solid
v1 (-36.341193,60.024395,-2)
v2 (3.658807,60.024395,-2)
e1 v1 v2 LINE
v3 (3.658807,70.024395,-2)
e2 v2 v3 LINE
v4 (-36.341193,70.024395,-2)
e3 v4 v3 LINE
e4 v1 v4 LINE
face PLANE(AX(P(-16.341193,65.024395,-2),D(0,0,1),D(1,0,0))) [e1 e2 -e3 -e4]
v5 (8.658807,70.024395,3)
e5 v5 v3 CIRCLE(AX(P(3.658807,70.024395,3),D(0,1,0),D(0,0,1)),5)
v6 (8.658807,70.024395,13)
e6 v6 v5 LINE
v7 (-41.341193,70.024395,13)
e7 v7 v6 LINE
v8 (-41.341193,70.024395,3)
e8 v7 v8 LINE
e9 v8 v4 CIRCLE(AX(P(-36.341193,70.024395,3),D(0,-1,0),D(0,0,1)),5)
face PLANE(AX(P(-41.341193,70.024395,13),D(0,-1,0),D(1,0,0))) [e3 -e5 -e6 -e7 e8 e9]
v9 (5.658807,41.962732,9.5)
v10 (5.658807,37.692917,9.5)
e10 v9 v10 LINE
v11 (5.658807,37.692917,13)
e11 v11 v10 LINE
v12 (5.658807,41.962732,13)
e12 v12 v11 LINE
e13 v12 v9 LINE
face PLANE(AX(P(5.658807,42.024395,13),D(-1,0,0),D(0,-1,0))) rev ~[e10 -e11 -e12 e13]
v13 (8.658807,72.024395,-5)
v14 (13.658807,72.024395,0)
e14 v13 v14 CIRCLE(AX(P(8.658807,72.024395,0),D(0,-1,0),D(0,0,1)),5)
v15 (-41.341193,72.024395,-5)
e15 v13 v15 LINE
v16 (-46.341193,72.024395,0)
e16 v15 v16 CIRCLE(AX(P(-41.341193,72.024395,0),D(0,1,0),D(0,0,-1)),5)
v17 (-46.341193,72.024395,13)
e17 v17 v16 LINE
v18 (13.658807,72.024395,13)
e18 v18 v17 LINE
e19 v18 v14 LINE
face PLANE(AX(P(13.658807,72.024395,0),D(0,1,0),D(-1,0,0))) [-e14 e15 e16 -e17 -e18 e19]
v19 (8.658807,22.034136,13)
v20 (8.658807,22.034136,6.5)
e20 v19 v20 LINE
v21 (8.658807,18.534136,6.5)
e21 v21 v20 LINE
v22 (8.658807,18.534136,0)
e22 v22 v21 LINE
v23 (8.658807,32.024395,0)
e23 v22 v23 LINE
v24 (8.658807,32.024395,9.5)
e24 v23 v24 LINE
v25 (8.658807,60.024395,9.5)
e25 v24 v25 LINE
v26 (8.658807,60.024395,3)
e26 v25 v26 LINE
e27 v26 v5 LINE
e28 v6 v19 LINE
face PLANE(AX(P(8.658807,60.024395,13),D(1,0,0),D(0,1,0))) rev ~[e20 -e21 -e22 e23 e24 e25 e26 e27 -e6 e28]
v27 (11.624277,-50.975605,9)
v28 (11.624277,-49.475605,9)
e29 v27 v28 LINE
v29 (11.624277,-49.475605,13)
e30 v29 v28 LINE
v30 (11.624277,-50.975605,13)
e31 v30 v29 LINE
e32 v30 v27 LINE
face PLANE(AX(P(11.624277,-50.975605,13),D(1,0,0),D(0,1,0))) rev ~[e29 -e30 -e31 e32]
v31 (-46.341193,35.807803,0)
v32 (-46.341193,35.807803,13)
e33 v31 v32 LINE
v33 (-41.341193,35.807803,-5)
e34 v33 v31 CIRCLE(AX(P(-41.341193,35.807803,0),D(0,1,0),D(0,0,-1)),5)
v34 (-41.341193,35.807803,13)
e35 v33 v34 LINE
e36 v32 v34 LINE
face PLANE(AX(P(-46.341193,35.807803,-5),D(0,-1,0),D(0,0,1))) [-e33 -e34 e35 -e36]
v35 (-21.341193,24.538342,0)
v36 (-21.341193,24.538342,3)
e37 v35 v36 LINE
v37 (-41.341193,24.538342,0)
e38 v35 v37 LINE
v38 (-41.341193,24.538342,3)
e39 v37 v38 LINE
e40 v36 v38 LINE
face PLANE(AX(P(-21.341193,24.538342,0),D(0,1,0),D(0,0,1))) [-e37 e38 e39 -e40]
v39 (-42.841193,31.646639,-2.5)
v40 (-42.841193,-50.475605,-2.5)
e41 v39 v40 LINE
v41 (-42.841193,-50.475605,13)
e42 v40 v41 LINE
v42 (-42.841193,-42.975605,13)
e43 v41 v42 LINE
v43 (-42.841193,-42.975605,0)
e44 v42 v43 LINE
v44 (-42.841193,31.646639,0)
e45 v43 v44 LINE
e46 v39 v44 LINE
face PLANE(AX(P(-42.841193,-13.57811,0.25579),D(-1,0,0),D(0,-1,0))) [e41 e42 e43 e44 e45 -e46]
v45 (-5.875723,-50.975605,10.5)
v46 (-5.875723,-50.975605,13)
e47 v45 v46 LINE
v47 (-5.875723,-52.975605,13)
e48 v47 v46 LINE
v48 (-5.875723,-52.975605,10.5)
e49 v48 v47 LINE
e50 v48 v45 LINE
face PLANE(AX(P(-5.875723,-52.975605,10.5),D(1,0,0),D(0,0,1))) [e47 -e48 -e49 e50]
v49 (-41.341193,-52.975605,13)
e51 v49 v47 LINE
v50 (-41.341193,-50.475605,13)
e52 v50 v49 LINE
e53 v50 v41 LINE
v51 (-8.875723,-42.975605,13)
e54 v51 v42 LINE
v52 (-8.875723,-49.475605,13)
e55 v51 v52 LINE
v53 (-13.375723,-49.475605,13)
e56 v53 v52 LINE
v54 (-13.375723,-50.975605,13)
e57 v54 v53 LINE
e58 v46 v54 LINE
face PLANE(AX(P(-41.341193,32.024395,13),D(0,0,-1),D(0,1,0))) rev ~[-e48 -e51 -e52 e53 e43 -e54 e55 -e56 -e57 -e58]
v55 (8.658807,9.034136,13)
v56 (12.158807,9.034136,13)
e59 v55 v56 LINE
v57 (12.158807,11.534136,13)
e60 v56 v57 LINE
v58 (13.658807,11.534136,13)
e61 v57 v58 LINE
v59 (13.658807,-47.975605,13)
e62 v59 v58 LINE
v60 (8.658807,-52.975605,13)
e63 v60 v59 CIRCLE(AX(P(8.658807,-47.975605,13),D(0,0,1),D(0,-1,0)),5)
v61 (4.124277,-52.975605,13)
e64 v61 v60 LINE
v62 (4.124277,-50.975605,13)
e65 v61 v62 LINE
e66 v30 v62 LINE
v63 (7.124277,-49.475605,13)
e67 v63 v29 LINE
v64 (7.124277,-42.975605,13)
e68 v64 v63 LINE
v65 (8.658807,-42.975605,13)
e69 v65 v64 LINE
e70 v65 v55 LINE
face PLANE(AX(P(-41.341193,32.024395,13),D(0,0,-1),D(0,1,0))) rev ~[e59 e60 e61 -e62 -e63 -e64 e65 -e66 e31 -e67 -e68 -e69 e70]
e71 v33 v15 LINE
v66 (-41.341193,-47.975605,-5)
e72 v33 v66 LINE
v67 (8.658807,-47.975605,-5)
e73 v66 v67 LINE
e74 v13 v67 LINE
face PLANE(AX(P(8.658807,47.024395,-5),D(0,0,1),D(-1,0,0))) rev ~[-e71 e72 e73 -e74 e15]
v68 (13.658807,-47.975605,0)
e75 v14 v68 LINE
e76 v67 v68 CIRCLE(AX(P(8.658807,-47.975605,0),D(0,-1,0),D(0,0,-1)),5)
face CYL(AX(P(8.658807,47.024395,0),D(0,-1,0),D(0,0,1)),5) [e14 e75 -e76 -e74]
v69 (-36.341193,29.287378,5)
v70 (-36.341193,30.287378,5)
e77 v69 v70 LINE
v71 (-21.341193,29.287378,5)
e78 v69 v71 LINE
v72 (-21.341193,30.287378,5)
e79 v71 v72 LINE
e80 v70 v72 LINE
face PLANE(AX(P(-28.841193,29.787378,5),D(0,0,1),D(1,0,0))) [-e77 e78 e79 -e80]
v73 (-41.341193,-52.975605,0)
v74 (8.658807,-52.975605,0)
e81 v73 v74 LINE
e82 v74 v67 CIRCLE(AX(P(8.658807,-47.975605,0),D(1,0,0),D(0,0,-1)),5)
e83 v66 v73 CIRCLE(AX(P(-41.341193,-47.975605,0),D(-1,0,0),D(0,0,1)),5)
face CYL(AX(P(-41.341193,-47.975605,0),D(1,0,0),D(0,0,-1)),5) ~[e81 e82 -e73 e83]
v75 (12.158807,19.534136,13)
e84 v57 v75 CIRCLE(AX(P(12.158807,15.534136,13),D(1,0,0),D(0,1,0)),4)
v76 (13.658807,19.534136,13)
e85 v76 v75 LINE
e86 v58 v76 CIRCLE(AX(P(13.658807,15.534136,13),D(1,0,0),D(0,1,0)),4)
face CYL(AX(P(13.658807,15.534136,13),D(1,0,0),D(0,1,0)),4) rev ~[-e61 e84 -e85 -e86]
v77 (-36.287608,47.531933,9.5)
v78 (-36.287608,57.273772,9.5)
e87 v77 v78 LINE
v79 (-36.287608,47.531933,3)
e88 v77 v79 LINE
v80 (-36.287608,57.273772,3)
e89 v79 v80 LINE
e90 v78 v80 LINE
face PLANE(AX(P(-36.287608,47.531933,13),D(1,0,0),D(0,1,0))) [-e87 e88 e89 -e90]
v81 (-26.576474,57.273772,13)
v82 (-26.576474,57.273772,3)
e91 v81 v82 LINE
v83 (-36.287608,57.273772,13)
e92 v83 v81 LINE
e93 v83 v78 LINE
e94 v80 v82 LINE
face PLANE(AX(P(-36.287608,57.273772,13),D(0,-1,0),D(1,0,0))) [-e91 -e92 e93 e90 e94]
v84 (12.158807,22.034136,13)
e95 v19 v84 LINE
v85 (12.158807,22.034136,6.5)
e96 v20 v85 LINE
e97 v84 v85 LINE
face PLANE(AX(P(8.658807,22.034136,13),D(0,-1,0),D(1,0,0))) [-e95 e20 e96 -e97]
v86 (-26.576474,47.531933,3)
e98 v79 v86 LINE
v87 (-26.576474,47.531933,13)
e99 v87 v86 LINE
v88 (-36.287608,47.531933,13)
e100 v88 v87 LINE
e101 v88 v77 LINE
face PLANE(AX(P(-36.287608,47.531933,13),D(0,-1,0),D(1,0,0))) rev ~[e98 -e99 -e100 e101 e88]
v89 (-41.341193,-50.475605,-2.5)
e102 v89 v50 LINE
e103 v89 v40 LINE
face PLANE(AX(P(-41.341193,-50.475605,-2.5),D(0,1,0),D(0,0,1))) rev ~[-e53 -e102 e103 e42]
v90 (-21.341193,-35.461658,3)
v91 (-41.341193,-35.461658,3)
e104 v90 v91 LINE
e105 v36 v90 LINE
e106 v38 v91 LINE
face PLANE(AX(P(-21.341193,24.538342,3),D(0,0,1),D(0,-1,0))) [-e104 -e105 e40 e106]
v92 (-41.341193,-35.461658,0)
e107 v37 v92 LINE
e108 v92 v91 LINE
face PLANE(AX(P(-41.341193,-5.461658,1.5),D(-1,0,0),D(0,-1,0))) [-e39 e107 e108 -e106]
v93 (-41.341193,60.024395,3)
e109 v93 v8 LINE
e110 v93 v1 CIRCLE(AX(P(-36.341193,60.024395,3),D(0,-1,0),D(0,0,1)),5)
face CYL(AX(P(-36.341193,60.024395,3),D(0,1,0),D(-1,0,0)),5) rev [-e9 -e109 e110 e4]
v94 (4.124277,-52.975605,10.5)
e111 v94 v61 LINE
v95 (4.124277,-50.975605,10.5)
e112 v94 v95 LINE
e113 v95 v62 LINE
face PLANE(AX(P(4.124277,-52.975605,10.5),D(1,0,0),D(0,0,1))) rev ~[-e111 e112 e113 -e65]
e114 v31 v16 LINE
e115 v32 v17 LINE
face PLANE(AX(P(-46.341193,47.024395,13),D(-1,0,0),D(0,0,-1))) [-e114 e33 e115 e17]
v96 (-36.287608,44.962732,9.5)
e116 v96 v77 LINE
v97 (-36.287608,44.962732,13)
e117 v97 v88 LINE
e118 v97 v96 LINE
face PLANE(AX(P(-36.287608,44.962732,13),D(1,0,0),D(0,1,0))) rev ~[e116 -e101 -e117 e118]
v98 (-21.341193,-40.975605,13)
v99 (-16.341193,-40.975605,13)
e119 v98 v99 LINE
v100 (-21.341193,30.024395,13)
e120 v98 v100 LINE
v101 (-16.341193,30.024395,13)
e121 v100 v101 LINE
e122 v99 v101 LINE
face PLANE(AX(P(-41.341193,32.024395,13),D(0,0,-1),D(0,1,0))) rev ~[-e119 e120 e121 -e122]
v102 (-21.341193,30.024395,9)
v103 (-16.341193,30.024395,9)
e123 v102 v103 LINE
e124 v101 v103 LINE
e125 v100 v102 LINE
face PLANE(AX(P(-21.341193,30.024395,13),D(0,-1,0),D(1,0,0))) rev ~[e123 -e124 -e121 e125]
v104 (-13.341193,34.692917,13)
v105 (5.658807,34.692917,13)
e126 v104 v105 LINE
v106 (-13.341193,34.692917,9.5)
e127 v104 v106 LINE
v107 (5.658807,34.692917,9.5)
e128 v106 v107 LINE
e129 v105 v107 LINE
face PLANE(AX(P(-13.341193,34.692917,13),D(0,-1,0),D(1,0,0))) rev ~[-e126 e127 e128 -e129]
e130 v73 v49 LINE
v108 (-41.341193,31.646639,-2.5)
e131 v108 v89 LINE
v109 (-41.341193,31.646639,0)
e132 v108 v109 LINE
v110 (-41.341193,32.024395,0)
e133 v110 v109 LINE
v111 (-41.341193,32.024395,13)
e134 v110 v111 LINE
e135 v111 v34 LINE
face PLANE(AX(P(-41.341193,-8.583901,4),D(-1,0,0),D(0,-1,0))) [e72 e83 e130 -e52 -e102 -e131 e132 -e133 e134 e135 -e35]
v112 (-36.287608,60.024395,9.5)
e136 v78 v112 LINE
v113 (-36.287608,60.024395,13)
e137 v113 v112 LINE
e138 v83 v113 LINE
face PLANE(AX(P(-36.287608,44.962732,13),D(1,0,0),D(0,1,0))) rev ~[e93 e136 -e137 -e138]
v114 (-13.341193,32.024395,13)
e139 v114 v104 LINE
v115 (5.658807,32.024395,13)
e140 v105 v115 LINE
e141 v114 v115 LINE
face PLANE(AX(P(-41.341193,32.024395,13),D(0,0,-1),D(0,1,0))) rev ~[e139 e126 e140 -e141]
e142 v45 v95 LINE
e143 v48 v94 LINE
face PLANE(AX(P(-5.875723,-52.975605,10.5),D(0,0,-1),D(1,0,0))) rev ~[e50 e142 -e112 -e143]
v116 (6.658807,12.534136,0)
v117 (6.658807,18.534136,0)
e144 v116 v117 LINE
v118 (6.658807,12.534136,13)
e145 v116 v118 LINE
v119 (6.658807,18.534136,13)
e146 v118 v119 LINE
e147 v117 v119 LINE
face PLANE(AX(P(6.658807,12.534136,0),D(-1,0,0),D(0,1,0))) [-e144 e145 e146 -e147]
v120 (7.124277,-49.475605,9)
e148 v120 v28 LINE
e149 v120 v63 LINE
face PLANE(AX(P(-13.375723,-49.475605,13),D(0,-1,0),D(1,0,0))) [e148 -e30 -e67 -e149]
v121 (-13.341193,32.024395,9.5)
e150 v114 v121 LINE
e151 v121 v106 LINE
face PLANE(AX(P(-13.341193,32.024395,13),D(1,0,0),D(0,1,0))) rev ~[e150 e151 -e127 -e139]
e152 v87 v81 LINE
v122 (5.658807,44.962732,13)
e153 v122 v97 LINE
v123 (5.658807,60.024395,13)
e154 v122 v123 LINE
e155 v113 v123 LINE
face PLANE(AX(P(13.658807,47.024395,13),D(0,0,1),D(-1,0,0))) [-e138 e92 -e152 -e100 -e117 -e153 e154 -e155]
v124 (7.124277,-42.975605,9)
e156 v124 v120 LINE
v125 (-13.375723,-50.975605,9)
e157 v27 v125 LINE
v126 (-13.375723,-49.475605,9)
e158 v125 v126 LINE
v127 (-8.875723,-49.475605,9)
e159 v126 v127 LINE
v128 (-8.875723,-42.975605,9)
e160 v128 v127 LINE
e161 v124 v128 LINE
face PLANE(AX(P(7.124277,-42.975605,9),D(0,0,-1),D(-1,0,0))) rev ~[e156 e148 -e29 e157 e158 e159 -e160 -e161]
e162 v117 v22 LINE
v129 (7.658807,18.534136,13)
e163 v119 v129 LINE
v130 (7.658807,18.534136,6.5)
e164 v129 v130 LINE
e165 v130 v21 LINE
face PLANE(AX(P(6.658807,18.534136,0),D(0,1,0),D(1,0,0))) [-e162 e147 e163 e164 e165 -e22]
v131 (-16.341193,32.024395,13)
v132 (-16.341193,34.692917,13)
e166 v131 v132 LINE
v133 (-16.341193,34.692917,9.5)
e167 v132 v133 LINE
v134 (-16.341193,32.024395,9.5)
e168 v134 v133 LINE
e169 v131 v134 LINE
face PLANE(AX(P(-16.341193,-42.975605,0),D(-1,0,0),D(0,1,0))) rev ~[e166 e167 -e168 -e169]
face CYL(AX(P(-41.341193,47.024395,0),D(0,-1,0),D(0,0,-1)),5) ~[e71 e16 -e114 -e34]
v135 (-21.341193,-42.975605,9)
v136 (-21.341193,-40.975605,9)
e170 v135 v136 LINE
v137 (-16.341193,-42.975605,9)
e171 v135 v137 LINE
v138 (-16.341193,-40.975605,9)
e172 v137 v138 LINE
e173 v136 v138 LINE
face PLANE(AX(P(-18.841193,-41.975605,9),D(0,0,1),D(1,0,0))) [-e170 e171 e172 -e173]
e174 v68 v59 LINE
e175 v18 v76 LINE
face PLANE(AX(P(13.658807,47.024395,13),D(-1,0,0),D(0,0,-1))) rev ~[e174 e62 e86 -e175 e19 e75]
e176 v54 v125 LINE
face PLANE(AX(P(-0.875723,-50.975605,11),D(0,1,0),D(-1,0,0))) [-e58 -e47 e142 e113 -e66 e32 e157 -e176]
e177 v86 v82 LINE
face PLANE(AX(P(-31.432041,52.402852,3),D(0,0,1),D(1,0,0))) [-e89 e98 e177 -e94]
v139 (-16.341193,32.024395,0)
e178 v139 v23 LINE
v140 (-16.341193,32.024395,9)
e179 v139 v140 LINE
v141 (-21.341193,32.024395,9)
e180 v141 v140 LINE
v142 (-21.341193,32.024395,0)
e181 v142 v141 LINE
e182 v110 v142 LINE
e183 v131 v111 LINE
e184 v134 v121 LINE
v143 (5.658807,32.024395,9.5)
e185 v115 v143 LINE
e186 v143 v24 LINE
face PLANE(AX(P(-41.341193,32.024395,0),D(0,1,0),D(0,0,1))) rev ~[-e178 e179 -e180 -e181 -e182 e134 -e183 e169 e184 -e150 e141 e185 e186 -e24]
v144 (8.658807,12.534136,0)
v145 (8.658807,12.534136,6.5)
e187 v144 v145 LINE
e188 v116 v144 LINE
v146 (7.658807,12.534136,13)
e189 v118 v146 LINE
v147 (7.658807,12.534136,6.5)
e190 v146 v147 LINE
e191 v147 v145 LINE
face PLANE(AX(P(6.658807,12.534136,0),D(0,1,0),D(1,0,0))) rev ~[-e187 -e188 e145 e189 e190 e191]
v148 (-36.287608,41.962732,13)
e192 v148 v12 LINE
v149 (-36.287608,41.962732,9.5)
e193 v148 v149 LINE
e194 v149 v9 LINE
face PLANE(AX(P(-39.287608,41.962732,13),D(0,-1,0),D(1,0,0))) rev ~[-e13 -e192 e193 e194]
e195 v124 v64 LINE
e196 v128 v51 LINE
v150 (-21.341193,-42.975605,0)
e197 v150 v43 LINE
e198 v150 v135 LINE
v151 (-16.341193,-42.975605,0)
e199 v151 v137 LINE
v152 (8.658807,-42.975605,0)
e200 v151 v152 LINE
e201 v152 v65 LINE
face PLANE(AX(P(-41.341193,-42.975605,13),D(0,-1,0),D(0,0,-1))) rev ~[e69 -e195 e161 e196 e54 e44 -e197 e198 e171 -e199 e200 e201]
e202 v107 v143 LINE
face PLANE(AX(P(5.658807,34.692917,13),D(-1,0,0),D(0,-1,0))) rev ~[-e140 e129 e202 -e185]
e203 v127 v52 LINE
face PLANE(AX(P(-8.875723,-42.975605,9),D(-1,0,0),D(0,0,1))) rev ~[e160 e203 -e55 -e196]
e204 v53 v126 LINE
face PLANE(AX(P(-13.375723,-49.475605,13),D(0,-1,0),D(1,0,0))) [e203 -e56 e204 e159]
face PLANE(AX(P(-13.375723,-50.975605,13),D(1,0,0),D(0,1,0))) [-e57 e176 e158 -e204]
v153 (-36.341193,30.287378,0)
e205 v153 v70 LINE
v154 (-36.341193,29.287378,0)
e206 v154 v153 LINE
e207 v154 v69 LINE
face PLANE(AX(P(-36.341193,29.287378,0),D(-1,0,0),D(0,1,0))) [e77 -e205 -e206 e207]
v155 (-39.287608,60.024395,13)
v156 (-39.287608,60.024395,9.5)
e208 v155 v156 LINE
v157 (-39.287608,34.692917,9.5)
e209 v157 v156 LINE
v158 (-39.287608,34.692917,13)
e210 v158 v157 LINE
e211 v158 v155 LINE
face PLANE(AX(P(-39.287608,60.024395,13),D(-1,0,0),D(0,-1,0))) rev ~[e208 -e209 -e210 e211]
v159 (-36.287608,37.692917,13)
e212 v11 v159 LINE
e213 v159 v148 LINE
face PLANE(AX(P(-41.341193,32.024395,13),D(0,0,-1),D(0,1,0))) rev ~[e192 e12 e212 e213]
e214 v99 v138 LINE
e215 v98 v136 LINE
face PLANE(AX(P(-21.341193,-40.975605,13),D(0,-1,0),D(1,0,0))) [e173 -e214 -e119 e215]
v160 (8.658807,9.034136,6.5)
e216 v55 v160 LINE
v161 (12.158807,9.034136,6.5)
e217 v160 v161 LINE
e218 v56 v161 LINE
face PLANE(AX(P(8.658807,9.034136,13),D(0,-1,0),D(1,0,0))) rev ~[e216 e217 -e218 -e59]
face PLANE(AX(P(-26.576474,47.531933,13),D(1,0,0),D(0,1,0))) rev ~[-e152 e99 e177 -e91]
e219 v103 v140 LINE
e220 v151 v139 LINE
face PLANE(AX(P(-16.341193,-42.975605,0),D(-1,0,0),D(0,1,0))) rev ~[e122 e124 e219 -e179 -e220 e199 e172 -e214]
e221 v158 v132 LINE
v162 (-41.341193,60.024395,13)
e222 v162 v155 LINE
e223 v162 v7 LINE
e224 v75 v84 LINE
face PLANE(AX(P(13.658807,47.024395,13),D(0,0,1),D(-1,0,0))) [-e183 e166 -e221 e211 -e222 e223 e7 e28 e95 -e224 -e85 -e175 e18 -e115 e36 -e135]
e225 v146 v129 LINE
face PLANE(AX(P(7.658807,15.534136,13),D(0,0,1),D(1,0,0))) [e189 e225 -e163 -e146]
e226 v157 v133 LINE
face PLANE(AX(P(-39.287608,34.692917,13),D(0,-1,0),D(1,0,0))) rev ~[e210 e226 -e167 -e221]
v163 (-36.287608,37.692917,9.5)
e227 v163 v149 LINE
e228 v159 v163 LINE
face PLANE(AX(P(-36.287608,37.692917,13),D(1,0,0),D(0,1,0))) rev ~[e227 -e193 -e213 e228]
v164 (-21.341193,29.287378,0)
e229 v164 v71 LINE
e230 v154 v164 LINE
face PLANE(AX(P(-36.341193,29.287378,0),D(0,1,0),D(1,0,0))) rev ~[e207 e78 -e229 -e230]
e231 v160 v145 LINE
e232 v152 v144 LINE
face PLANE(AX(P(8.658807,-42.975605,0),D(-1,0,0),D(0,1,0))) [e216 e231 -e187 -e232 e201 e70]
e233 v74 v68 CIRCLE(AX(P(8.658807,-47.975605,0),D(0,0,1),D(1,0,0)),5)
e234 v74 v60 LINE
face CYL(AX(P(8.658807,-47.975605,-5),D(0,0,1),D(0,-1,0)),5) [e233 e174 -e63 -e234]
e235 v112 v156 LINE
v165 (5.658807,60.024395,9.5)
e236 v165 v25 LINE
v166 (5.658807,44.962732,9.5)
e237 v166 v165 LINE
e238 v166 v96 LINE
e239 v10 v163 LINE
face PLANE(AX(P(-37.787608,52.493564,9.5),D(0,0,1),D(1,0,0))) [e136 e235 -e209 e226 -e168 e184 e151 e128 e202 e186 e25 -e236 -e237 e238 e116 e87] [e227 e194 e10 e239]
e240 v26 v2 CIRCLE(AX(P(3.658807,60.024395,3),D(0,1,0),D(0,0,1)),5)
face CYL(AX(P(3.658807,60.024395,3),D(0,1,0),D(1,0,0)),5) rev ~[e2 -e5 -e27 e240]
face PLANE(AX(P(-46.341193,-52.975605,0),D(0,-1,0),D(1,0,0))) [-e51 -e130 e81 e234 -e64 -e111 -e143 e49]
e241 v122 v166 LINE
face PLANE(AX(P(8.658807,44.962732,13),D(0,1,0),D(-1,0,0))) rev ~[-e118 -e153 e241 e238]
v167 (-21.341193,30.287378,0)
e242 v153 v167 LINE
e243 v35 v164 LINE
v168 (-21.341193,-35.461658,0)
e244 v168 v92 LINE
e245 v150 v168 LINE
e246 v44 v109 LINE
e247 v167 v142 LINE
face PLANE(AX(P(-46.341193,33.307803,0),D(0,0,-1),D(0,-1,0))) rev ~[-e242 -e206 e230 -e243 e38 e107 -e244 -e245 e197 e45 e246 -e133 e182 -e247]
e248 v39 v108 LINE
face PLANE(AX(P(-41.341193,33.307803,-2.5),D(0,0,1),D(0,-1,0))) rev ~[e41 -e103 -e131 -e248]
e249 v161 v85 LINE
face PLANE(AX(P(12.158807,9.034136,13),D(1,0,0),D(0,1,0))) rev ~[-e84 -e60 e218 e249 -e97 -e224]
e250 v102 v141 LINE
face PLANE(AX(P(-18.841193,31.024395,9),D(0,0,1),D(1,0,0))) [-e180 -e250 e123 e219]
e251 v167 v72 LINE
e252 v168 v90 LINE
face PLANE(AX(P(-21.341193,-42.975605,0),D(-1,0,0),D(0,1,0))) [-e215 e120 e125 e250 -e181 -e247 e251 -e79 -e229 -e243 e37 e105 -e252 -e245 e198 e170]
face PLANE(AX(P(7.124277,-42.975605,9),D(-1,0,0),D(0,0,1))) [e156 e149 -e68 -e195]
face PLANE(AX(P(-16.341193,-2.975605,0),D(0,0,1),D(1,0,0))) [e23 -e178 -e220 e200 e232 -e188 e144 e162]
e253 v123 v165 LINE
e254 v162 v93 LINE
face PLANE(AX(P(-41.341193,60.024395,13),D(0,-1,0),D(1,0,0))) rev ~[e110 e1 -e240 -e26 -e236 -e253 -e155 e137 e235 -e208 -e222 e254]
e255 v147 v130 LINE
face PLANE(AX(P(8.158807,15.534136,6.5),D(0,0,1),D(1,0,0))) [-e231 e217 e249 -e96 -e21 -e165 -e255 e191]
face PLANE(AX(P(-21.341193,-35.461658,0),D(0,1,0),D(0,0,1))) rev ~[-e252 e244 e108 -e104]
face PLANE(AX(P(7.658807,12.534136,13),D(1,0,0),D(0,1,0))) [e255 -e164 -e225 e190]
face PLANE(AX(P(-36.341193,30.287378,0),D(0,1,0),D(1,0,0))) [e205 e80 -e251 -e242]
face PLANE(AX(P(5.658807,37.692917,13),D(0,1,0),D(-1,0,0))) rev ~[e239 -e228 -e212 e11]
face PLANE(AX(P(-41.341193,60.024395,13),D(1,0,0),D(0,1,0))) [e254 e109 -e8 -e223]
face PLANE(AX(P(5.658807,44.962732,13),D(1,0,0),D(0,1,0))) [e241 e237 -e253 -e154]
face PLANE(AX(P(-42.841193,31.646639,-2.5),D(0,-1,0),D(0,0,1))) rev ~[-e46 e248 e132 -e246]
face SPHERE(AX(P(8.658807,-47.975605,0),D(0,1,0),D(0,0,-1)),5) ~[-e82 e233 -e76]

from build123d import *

# Parameters (mm, degrees)
F0_W      = 20
F0_H      = 75
F0_W_2    = 25
F1_DEPTH  = 13
F2_DEPTH  = 5
F3_R      = 4
F4_DEPTH  = 5
F5_W      = 3.5
F5_H      = 13
F6_DEPTH  = 6.5
F7_W      = 88.7834078074
F7_H      = 18
F8_DEPTH  = 5
F10_DEPTH = 5
F11_W     = 1.2834078074
F11_H     = 13
F12_DEPTH = 5
F13_W     = 3
F13_H     = 2.6685215533
F13_H_2   = 1.2419745326
F13_W_2   = 0.7530017495
F13_H_3   = 3
F14_DEPTH = 3.5
F15_W     = 5
F15_H     = 2
F16_DEPTH = 4
F17_W     = 15
F17_H     = 1
F18_DEPTH = 5
F19_R     = 5
F20_W     = 10
F20_H     = 2.5
F21_DEPTH = 10
F22_W     = 16
F22_H     = 4
F23_DEPTH = 8
F24_W     = 25
F24_H     = 1.5
F25_DEPTH = 4
F27_DEPTH = 3.5
F28_W     = 2
F28_H     = 6
F29_DEPTH = 13
F30_W     = 1
F30_H     = 6
F31_DEPTH = 6.5
F32_W     = 1.6611641645
F32_H     = 2.5
F33_DEPTH = 1.5
F35_DEPTH = 3.5
F36_DEPTH = 25
F37_W     = 50
F37_H     = 10
F38_DEPTH = 15
F39_R     = 5
F40_W     = 9.7111338079
F40_H     = 9.7418390214
F41_DEPTH = 10
F42_DEPTH = 3.5
F40_W_2   = 3
F40_H_2   = 15.0616638362
F43_DEPTH = 3.5
F44_W     = 60
F44_H     = 3
F45_DEPTH = 20


with BuildPart() as f1:
    # F0 (on Top) → F1 (new body)
    with BuildSketch(Plane.XY):
        Polygon((-26.3411931316, 47.0243954659), (-46.3411931316, 47.0243954659), (-46.3411931316, -52.9756045341), (13.6588068684, -52.9756045341), (13.6588068684, 47.0243954659), (-6.3411931316, 47.0243954659), align=None)
        with Locations((-31.3411931316, -5.4756045341)):
            Rectangle(F0_W, F0_H, mode=Mode.SUBTRACT)
        with Locations((-3.8411931316, -5.4756045341)):
            Rectangle(F0_W_2, F0_H, mode=Mode.SUBTRACT)
    extrude(amount=F1_DEPTH)

    # F0 (on Top) → F2 (join)
    with BuildSketch(Plane.XY):
        Polygon((-26.3411931316, 47.0243954659), (-46.3411931316, 47.0243954659), (-46.3411931316, -52.9756045341), (13.6588068684, -52.9756045341), (13.6588068684, 47.0243954659), (-6.3411931316, 47.0243954659), align=None)
        with Locations((-31.3411931316, -5.4756045341)):
            Rectangle(F0_W, F0_H, mode=Mode.SUBTRACT)
        with Locations((-3.8411931316, -5.4756045341)):
            Rectangle(F0_W_2, F0_H, mode=Mode.SUBTRACT)
        with Locations((-3.8411931316, -5.4756045341)):
            Rectangle(F0_W_2, F0_H)
        with Locations((-31.3411931316, -5.4756045341)):
            Rectangle(F0_W, F0_H)
    extrude(amount=-F2_DEPTH)

    # F3 (on face) → F4 (cut)
    with BuildSketch(Plane.YZ.offset(13.6588068684)):
        with Locations((15.5341364443, 13)):
            Circle(F3_R)
    extrude(amount=-F4_DEPTH, mode=Mode.SUBTRACT)

    # F5 (on face) → F6 (cut)
    with BuildSketch(Plane.XY.offset(13)):
        with Locations((10.4088068684, 15.5341364443)):
            Rectangle(F5_W, F5_H)
    extrude(amount=-F6_DEPTH, mode=Mode.SUBTRACT)

    # F7 (on face) → F8 (cut)
    with BuildSketch(Plane(origin=(-46.3411931316, 0, 0), x_dir=(0, -1, 0), z_dir=(-1, 0, 0))):
        with Locations((8.5839006305, 4)):
            Rectangle(F7_W, F7_H)
    extrude(amount=-F8_DEPTH, mode=Mode.SUBTRACT)

    # F9 (on face) → F10 (join)
    with BuildSketch(Plane(origin=(-41.3411931316, 0, 0), x_dir=(0, -1, 0), z_dir=(-1, 0, 0))):
        Polygon((-33.3078032732, 13), (-33.3078032732, -2.5), (50.4756045341, -2.5), (50.4756045341, 13), (42.9756045341, 13), (42.9756045341, 0), (-32.0243954659, 0), (-32.0243954659, 13), align=None)
    extrude(amount=F10_DEPTH)

    # F11 (on face) → F12 (cut)
    with BuildSketch(Plane(origin=(-46.3411931316, 0, 0), x_dir=(0, -1, 0), z_dir=(-1, 0, 0))):
        with Locations((-32.6660993695, 6.5)):
            Rectangle(F11_W, F11_H)
    extrude(amount=-F12_DEPTH, mode=Mode.SUBTRACT)

    # F13 (on face) → F14 (cut)
    with BuildSketch(Plane.XY.offset(13)):
        Polygon((5.6588068684, 32.0243954659), (8.6588068684, 32.0243954659), (8.6588068684, 42.0243954659), (5.6588068684, 42.0243954659), (5.6588068684, 37.6929170191), (5.6588068684, 34.6929170191), align=None)
        Polygon((-13.3411931316, 34.6929170191), (5.6588068684, 34.6929170191), (5.6588068684, 37.6929170191), (-36.2876081169, 37.6929170191), (-36.2876081169, 34.6929170191), (-16.3411931316, 34.6929170191), (-16.3411931316, 35.9348915517), (-13.3411931316, 35.9348915517), align=None)
        with Locations((-14.8411931316, 33.3586562425)):
            Rectangle(F13_W, F13_H)
        with Locations((-14.8411931316, 35.3139042854)):
            Rectangle(F13_W, F13_H_2)
        with Locations((-36.6641089916, 36.1929170191)):
            Rectangle(F13_W_2, F13_H_3)
        Polygon((-37.0406098664, 37.6929170191), (-36.2876081169, 37.6929170191), (-36.2876081169, 41.9627316296), (-39.2876081169, 41.9627316296), (-39.2876081169, 34.6929170191), (-37.0406098664, 34.6929170191), align=None)
    extrude(amount=-F14_DEPTH, mode=Mode.SUBTRACT)

    # F15 (on face) → F16 (cut)
    with BuildSketch(Plane.XY.offset(13)):
        with Locations((-18.8411931316, 31.0243954659)):
            Rectangle(F15_W, F15_H)
        with Locations((-18.8411931316, -41.9756045341)):
            Rectangle(F15_W, F15_H)
    extrude(amount=-F16_DEPTH, mode=Mode.SUBTRACT)

    # F17 (on face) → F18 (join)
    with BuildSketch(Plane.XY):
        with Locations((-28.8411931316, 29.7873775363)):
            Rectangle(F17_W, F17_H)
    extrude(amount=F18_DEPTH)

    # F19
    f19_edges = [f1.edges().sort_by_distance(p)[0] for p in [
        (13.658807, -2.975605, -5),
        (-13.841193, -52.975605, -5),
        (13.658807, -52.975605, 4),
        (-46.341193, 41.416099, -5),
    ]]
    fillet(f19_edges, radius=F19_R)

    # F20 (on face) → F21 (cut)
    with BuildSketch(Plane.XZ.offset(52.9756045341)):
        with Locations((-0.8757225672, 11.75)):
            Rectangle(F20_W, F20_H)
    extrude(amount=-F21_DEPTH, mode=Mode.SUBTRACT)

    # F22 (on face) → F23 (cut)
    with BuildSketch(Plane(origin=(0, -42.9756045341, 0), x_dir=(-1, 0, 0), z_dir=(0, 1, 0))):
        with Locations((0.8757225672, 11)):
            Rectangle(F22_W, F22_H)
    extrude(amount=-F23_DEPTH, mode=Mode.SUBTRACT)

    # F24 (on face) → F25 (cut)
    with BuildSketch(Plane.XY.offset(13)):
        with Locations((-0.8757225672, -50.2256045341)):
            Rectangle(F24_W, F24_H)
    extrude(amount=-F25_DEPTH, mode=Mode.SUBTRACT)

    # F26 (on face) → F27 (cut)
    with BuildSketch(Plane(origin=(-46.3411931316, 0, 0), x_dir=(0, -1, 0), z_dir=(-1, 0, 0))):
        Polygon((-33.3078032732, 0), (-33.3078032732, -2.5), (50.4756045341, -2.5), (50.4756045341, 13), (42.9756045341, 13), (42.9756045341, 0), align=None)
    extrude(amount=-F27_DEPTH, mode=Mode.SUBTRACT)

    # F28 (on face) → F29 (join)
    with BuildSketch(Plane.XY):
        with Locations((7.6588068684, 15.5341364443)):
            Rectangle(F28_W, F28_H)
    extrude(amount=F29_DEPTH)

    # F30 (on face) → F31 (cut)
    with BuildSketch(Plane.XY.offset(13)):
        with Locations((8.1588068684, 15.5341364443)):
            Rectangle(F30_W, F30_H)
    extrude(amount=-F31_DEPTH, mode=Mode.SUBTRACT)

    # F32 (on face) → F33 (cut)
    with BuildSketch(Plane(origin=(-42.8411931316, 0, 0), x_dir=(0, -1, 0), z_dir=(-1, 0, 0))):
        with Locations((-32.4772211909, -1.25)):
            Rectangle(F32_W, F32_H)
    extrude(amount=-F33_DEPTH, mode=Mode.SUBTRACT)

    # F34 (on face) → F35 (cut)
    with BuildSketch(Plane.XY.offset(13)):
        Polygon((-39.2876081169, 44.9627316296), (-39.2876081169, 41.9627316296), (-36.2876081169, 41.9627316296), (5.6588068684, 41.9627316296), (5.6588068684, 42.0243954659), (8.6588068684, 42.0243954659), (8.6588068684, 44.9627316296), align=None)
    extrude(amount=-F35_DEPTH, mode=Mode.SUBTRACT)

    # F36 (add): a face of the model
    f36_faces = [f1.faces().sort_by_distance(p)[0] for p in [
        (-16.3411931316, 47.0243954659, 4.07910728),
    ]]
    extrude(f36_faces, amount=F36_DEPTH)

    # F37 (on face) → F38 (cut)
    with BuildSketch(Plane.XY.offset(13)):
        with Locations((-16.3411931316, 65.0243954659)):
            Rectangle(F37_W, F37_H)
    extrude(amount=-F38_DEPTH, mode=Mode.SUBTRACT)

    # F39
    f39_edges = [f1.edges().sort_by_distance(p)[0] for p in [
        (8.658807, 65.024395, -2),
        (-41.341193, 65.024395, -2),
    ]]
    fillet(f39_edges, radius=F39_R)

    # F40 (on face) → F41 (cut)
    with BuildSketch(Plane.XY.offset(13)):
        with Locations((-31.4320412129, 52.4028521031)):
            Rectangle(F40_W, F40_H)
    extrude(amount=-F41_DEPTH, mode=Mode.SUBTRACT)

    # F40 (on face) → F42 (cut)
    with BuildSketch(Plane.XY.offset(13)):
        Polygon((-39.2876081169, 60.0243954659), (-39.2876081169, 44.9627316296), (-36.2876081169, 44.9627316296), (-36.2876081169, 47.5319325924), (-36.2876081169, 57.2737716138), (-36.2876081169, 60.0243954659), align=None)
    extrude(amount=-F42_DEPTH, mode=Mode.SUBTRACT)

    # F40 (on face) → F43 (cut)
    with BuildSketch(Plane.XY.offset(13)):
        with Locations((7.1588068684, 52.4935635477)):
            Rectangle(F40_W_2, F40_H_2)
    extrude(amount=-F43_DEPTH, mode=Mode.SUBTRACT)

    # F44 (on face) → F45 (join)
    with BuildSketch(Plane(origin=(-21.3411931316, 0, 0), x_dir=(0, -1, 0), z_dir=(-1, 0, 0))):
        with Locations((5.4616580904, 1.5)):
            Rectangle(F44_W, F44_H)
    extrude(amount=F45_DEPTH)


solid = f1.part
